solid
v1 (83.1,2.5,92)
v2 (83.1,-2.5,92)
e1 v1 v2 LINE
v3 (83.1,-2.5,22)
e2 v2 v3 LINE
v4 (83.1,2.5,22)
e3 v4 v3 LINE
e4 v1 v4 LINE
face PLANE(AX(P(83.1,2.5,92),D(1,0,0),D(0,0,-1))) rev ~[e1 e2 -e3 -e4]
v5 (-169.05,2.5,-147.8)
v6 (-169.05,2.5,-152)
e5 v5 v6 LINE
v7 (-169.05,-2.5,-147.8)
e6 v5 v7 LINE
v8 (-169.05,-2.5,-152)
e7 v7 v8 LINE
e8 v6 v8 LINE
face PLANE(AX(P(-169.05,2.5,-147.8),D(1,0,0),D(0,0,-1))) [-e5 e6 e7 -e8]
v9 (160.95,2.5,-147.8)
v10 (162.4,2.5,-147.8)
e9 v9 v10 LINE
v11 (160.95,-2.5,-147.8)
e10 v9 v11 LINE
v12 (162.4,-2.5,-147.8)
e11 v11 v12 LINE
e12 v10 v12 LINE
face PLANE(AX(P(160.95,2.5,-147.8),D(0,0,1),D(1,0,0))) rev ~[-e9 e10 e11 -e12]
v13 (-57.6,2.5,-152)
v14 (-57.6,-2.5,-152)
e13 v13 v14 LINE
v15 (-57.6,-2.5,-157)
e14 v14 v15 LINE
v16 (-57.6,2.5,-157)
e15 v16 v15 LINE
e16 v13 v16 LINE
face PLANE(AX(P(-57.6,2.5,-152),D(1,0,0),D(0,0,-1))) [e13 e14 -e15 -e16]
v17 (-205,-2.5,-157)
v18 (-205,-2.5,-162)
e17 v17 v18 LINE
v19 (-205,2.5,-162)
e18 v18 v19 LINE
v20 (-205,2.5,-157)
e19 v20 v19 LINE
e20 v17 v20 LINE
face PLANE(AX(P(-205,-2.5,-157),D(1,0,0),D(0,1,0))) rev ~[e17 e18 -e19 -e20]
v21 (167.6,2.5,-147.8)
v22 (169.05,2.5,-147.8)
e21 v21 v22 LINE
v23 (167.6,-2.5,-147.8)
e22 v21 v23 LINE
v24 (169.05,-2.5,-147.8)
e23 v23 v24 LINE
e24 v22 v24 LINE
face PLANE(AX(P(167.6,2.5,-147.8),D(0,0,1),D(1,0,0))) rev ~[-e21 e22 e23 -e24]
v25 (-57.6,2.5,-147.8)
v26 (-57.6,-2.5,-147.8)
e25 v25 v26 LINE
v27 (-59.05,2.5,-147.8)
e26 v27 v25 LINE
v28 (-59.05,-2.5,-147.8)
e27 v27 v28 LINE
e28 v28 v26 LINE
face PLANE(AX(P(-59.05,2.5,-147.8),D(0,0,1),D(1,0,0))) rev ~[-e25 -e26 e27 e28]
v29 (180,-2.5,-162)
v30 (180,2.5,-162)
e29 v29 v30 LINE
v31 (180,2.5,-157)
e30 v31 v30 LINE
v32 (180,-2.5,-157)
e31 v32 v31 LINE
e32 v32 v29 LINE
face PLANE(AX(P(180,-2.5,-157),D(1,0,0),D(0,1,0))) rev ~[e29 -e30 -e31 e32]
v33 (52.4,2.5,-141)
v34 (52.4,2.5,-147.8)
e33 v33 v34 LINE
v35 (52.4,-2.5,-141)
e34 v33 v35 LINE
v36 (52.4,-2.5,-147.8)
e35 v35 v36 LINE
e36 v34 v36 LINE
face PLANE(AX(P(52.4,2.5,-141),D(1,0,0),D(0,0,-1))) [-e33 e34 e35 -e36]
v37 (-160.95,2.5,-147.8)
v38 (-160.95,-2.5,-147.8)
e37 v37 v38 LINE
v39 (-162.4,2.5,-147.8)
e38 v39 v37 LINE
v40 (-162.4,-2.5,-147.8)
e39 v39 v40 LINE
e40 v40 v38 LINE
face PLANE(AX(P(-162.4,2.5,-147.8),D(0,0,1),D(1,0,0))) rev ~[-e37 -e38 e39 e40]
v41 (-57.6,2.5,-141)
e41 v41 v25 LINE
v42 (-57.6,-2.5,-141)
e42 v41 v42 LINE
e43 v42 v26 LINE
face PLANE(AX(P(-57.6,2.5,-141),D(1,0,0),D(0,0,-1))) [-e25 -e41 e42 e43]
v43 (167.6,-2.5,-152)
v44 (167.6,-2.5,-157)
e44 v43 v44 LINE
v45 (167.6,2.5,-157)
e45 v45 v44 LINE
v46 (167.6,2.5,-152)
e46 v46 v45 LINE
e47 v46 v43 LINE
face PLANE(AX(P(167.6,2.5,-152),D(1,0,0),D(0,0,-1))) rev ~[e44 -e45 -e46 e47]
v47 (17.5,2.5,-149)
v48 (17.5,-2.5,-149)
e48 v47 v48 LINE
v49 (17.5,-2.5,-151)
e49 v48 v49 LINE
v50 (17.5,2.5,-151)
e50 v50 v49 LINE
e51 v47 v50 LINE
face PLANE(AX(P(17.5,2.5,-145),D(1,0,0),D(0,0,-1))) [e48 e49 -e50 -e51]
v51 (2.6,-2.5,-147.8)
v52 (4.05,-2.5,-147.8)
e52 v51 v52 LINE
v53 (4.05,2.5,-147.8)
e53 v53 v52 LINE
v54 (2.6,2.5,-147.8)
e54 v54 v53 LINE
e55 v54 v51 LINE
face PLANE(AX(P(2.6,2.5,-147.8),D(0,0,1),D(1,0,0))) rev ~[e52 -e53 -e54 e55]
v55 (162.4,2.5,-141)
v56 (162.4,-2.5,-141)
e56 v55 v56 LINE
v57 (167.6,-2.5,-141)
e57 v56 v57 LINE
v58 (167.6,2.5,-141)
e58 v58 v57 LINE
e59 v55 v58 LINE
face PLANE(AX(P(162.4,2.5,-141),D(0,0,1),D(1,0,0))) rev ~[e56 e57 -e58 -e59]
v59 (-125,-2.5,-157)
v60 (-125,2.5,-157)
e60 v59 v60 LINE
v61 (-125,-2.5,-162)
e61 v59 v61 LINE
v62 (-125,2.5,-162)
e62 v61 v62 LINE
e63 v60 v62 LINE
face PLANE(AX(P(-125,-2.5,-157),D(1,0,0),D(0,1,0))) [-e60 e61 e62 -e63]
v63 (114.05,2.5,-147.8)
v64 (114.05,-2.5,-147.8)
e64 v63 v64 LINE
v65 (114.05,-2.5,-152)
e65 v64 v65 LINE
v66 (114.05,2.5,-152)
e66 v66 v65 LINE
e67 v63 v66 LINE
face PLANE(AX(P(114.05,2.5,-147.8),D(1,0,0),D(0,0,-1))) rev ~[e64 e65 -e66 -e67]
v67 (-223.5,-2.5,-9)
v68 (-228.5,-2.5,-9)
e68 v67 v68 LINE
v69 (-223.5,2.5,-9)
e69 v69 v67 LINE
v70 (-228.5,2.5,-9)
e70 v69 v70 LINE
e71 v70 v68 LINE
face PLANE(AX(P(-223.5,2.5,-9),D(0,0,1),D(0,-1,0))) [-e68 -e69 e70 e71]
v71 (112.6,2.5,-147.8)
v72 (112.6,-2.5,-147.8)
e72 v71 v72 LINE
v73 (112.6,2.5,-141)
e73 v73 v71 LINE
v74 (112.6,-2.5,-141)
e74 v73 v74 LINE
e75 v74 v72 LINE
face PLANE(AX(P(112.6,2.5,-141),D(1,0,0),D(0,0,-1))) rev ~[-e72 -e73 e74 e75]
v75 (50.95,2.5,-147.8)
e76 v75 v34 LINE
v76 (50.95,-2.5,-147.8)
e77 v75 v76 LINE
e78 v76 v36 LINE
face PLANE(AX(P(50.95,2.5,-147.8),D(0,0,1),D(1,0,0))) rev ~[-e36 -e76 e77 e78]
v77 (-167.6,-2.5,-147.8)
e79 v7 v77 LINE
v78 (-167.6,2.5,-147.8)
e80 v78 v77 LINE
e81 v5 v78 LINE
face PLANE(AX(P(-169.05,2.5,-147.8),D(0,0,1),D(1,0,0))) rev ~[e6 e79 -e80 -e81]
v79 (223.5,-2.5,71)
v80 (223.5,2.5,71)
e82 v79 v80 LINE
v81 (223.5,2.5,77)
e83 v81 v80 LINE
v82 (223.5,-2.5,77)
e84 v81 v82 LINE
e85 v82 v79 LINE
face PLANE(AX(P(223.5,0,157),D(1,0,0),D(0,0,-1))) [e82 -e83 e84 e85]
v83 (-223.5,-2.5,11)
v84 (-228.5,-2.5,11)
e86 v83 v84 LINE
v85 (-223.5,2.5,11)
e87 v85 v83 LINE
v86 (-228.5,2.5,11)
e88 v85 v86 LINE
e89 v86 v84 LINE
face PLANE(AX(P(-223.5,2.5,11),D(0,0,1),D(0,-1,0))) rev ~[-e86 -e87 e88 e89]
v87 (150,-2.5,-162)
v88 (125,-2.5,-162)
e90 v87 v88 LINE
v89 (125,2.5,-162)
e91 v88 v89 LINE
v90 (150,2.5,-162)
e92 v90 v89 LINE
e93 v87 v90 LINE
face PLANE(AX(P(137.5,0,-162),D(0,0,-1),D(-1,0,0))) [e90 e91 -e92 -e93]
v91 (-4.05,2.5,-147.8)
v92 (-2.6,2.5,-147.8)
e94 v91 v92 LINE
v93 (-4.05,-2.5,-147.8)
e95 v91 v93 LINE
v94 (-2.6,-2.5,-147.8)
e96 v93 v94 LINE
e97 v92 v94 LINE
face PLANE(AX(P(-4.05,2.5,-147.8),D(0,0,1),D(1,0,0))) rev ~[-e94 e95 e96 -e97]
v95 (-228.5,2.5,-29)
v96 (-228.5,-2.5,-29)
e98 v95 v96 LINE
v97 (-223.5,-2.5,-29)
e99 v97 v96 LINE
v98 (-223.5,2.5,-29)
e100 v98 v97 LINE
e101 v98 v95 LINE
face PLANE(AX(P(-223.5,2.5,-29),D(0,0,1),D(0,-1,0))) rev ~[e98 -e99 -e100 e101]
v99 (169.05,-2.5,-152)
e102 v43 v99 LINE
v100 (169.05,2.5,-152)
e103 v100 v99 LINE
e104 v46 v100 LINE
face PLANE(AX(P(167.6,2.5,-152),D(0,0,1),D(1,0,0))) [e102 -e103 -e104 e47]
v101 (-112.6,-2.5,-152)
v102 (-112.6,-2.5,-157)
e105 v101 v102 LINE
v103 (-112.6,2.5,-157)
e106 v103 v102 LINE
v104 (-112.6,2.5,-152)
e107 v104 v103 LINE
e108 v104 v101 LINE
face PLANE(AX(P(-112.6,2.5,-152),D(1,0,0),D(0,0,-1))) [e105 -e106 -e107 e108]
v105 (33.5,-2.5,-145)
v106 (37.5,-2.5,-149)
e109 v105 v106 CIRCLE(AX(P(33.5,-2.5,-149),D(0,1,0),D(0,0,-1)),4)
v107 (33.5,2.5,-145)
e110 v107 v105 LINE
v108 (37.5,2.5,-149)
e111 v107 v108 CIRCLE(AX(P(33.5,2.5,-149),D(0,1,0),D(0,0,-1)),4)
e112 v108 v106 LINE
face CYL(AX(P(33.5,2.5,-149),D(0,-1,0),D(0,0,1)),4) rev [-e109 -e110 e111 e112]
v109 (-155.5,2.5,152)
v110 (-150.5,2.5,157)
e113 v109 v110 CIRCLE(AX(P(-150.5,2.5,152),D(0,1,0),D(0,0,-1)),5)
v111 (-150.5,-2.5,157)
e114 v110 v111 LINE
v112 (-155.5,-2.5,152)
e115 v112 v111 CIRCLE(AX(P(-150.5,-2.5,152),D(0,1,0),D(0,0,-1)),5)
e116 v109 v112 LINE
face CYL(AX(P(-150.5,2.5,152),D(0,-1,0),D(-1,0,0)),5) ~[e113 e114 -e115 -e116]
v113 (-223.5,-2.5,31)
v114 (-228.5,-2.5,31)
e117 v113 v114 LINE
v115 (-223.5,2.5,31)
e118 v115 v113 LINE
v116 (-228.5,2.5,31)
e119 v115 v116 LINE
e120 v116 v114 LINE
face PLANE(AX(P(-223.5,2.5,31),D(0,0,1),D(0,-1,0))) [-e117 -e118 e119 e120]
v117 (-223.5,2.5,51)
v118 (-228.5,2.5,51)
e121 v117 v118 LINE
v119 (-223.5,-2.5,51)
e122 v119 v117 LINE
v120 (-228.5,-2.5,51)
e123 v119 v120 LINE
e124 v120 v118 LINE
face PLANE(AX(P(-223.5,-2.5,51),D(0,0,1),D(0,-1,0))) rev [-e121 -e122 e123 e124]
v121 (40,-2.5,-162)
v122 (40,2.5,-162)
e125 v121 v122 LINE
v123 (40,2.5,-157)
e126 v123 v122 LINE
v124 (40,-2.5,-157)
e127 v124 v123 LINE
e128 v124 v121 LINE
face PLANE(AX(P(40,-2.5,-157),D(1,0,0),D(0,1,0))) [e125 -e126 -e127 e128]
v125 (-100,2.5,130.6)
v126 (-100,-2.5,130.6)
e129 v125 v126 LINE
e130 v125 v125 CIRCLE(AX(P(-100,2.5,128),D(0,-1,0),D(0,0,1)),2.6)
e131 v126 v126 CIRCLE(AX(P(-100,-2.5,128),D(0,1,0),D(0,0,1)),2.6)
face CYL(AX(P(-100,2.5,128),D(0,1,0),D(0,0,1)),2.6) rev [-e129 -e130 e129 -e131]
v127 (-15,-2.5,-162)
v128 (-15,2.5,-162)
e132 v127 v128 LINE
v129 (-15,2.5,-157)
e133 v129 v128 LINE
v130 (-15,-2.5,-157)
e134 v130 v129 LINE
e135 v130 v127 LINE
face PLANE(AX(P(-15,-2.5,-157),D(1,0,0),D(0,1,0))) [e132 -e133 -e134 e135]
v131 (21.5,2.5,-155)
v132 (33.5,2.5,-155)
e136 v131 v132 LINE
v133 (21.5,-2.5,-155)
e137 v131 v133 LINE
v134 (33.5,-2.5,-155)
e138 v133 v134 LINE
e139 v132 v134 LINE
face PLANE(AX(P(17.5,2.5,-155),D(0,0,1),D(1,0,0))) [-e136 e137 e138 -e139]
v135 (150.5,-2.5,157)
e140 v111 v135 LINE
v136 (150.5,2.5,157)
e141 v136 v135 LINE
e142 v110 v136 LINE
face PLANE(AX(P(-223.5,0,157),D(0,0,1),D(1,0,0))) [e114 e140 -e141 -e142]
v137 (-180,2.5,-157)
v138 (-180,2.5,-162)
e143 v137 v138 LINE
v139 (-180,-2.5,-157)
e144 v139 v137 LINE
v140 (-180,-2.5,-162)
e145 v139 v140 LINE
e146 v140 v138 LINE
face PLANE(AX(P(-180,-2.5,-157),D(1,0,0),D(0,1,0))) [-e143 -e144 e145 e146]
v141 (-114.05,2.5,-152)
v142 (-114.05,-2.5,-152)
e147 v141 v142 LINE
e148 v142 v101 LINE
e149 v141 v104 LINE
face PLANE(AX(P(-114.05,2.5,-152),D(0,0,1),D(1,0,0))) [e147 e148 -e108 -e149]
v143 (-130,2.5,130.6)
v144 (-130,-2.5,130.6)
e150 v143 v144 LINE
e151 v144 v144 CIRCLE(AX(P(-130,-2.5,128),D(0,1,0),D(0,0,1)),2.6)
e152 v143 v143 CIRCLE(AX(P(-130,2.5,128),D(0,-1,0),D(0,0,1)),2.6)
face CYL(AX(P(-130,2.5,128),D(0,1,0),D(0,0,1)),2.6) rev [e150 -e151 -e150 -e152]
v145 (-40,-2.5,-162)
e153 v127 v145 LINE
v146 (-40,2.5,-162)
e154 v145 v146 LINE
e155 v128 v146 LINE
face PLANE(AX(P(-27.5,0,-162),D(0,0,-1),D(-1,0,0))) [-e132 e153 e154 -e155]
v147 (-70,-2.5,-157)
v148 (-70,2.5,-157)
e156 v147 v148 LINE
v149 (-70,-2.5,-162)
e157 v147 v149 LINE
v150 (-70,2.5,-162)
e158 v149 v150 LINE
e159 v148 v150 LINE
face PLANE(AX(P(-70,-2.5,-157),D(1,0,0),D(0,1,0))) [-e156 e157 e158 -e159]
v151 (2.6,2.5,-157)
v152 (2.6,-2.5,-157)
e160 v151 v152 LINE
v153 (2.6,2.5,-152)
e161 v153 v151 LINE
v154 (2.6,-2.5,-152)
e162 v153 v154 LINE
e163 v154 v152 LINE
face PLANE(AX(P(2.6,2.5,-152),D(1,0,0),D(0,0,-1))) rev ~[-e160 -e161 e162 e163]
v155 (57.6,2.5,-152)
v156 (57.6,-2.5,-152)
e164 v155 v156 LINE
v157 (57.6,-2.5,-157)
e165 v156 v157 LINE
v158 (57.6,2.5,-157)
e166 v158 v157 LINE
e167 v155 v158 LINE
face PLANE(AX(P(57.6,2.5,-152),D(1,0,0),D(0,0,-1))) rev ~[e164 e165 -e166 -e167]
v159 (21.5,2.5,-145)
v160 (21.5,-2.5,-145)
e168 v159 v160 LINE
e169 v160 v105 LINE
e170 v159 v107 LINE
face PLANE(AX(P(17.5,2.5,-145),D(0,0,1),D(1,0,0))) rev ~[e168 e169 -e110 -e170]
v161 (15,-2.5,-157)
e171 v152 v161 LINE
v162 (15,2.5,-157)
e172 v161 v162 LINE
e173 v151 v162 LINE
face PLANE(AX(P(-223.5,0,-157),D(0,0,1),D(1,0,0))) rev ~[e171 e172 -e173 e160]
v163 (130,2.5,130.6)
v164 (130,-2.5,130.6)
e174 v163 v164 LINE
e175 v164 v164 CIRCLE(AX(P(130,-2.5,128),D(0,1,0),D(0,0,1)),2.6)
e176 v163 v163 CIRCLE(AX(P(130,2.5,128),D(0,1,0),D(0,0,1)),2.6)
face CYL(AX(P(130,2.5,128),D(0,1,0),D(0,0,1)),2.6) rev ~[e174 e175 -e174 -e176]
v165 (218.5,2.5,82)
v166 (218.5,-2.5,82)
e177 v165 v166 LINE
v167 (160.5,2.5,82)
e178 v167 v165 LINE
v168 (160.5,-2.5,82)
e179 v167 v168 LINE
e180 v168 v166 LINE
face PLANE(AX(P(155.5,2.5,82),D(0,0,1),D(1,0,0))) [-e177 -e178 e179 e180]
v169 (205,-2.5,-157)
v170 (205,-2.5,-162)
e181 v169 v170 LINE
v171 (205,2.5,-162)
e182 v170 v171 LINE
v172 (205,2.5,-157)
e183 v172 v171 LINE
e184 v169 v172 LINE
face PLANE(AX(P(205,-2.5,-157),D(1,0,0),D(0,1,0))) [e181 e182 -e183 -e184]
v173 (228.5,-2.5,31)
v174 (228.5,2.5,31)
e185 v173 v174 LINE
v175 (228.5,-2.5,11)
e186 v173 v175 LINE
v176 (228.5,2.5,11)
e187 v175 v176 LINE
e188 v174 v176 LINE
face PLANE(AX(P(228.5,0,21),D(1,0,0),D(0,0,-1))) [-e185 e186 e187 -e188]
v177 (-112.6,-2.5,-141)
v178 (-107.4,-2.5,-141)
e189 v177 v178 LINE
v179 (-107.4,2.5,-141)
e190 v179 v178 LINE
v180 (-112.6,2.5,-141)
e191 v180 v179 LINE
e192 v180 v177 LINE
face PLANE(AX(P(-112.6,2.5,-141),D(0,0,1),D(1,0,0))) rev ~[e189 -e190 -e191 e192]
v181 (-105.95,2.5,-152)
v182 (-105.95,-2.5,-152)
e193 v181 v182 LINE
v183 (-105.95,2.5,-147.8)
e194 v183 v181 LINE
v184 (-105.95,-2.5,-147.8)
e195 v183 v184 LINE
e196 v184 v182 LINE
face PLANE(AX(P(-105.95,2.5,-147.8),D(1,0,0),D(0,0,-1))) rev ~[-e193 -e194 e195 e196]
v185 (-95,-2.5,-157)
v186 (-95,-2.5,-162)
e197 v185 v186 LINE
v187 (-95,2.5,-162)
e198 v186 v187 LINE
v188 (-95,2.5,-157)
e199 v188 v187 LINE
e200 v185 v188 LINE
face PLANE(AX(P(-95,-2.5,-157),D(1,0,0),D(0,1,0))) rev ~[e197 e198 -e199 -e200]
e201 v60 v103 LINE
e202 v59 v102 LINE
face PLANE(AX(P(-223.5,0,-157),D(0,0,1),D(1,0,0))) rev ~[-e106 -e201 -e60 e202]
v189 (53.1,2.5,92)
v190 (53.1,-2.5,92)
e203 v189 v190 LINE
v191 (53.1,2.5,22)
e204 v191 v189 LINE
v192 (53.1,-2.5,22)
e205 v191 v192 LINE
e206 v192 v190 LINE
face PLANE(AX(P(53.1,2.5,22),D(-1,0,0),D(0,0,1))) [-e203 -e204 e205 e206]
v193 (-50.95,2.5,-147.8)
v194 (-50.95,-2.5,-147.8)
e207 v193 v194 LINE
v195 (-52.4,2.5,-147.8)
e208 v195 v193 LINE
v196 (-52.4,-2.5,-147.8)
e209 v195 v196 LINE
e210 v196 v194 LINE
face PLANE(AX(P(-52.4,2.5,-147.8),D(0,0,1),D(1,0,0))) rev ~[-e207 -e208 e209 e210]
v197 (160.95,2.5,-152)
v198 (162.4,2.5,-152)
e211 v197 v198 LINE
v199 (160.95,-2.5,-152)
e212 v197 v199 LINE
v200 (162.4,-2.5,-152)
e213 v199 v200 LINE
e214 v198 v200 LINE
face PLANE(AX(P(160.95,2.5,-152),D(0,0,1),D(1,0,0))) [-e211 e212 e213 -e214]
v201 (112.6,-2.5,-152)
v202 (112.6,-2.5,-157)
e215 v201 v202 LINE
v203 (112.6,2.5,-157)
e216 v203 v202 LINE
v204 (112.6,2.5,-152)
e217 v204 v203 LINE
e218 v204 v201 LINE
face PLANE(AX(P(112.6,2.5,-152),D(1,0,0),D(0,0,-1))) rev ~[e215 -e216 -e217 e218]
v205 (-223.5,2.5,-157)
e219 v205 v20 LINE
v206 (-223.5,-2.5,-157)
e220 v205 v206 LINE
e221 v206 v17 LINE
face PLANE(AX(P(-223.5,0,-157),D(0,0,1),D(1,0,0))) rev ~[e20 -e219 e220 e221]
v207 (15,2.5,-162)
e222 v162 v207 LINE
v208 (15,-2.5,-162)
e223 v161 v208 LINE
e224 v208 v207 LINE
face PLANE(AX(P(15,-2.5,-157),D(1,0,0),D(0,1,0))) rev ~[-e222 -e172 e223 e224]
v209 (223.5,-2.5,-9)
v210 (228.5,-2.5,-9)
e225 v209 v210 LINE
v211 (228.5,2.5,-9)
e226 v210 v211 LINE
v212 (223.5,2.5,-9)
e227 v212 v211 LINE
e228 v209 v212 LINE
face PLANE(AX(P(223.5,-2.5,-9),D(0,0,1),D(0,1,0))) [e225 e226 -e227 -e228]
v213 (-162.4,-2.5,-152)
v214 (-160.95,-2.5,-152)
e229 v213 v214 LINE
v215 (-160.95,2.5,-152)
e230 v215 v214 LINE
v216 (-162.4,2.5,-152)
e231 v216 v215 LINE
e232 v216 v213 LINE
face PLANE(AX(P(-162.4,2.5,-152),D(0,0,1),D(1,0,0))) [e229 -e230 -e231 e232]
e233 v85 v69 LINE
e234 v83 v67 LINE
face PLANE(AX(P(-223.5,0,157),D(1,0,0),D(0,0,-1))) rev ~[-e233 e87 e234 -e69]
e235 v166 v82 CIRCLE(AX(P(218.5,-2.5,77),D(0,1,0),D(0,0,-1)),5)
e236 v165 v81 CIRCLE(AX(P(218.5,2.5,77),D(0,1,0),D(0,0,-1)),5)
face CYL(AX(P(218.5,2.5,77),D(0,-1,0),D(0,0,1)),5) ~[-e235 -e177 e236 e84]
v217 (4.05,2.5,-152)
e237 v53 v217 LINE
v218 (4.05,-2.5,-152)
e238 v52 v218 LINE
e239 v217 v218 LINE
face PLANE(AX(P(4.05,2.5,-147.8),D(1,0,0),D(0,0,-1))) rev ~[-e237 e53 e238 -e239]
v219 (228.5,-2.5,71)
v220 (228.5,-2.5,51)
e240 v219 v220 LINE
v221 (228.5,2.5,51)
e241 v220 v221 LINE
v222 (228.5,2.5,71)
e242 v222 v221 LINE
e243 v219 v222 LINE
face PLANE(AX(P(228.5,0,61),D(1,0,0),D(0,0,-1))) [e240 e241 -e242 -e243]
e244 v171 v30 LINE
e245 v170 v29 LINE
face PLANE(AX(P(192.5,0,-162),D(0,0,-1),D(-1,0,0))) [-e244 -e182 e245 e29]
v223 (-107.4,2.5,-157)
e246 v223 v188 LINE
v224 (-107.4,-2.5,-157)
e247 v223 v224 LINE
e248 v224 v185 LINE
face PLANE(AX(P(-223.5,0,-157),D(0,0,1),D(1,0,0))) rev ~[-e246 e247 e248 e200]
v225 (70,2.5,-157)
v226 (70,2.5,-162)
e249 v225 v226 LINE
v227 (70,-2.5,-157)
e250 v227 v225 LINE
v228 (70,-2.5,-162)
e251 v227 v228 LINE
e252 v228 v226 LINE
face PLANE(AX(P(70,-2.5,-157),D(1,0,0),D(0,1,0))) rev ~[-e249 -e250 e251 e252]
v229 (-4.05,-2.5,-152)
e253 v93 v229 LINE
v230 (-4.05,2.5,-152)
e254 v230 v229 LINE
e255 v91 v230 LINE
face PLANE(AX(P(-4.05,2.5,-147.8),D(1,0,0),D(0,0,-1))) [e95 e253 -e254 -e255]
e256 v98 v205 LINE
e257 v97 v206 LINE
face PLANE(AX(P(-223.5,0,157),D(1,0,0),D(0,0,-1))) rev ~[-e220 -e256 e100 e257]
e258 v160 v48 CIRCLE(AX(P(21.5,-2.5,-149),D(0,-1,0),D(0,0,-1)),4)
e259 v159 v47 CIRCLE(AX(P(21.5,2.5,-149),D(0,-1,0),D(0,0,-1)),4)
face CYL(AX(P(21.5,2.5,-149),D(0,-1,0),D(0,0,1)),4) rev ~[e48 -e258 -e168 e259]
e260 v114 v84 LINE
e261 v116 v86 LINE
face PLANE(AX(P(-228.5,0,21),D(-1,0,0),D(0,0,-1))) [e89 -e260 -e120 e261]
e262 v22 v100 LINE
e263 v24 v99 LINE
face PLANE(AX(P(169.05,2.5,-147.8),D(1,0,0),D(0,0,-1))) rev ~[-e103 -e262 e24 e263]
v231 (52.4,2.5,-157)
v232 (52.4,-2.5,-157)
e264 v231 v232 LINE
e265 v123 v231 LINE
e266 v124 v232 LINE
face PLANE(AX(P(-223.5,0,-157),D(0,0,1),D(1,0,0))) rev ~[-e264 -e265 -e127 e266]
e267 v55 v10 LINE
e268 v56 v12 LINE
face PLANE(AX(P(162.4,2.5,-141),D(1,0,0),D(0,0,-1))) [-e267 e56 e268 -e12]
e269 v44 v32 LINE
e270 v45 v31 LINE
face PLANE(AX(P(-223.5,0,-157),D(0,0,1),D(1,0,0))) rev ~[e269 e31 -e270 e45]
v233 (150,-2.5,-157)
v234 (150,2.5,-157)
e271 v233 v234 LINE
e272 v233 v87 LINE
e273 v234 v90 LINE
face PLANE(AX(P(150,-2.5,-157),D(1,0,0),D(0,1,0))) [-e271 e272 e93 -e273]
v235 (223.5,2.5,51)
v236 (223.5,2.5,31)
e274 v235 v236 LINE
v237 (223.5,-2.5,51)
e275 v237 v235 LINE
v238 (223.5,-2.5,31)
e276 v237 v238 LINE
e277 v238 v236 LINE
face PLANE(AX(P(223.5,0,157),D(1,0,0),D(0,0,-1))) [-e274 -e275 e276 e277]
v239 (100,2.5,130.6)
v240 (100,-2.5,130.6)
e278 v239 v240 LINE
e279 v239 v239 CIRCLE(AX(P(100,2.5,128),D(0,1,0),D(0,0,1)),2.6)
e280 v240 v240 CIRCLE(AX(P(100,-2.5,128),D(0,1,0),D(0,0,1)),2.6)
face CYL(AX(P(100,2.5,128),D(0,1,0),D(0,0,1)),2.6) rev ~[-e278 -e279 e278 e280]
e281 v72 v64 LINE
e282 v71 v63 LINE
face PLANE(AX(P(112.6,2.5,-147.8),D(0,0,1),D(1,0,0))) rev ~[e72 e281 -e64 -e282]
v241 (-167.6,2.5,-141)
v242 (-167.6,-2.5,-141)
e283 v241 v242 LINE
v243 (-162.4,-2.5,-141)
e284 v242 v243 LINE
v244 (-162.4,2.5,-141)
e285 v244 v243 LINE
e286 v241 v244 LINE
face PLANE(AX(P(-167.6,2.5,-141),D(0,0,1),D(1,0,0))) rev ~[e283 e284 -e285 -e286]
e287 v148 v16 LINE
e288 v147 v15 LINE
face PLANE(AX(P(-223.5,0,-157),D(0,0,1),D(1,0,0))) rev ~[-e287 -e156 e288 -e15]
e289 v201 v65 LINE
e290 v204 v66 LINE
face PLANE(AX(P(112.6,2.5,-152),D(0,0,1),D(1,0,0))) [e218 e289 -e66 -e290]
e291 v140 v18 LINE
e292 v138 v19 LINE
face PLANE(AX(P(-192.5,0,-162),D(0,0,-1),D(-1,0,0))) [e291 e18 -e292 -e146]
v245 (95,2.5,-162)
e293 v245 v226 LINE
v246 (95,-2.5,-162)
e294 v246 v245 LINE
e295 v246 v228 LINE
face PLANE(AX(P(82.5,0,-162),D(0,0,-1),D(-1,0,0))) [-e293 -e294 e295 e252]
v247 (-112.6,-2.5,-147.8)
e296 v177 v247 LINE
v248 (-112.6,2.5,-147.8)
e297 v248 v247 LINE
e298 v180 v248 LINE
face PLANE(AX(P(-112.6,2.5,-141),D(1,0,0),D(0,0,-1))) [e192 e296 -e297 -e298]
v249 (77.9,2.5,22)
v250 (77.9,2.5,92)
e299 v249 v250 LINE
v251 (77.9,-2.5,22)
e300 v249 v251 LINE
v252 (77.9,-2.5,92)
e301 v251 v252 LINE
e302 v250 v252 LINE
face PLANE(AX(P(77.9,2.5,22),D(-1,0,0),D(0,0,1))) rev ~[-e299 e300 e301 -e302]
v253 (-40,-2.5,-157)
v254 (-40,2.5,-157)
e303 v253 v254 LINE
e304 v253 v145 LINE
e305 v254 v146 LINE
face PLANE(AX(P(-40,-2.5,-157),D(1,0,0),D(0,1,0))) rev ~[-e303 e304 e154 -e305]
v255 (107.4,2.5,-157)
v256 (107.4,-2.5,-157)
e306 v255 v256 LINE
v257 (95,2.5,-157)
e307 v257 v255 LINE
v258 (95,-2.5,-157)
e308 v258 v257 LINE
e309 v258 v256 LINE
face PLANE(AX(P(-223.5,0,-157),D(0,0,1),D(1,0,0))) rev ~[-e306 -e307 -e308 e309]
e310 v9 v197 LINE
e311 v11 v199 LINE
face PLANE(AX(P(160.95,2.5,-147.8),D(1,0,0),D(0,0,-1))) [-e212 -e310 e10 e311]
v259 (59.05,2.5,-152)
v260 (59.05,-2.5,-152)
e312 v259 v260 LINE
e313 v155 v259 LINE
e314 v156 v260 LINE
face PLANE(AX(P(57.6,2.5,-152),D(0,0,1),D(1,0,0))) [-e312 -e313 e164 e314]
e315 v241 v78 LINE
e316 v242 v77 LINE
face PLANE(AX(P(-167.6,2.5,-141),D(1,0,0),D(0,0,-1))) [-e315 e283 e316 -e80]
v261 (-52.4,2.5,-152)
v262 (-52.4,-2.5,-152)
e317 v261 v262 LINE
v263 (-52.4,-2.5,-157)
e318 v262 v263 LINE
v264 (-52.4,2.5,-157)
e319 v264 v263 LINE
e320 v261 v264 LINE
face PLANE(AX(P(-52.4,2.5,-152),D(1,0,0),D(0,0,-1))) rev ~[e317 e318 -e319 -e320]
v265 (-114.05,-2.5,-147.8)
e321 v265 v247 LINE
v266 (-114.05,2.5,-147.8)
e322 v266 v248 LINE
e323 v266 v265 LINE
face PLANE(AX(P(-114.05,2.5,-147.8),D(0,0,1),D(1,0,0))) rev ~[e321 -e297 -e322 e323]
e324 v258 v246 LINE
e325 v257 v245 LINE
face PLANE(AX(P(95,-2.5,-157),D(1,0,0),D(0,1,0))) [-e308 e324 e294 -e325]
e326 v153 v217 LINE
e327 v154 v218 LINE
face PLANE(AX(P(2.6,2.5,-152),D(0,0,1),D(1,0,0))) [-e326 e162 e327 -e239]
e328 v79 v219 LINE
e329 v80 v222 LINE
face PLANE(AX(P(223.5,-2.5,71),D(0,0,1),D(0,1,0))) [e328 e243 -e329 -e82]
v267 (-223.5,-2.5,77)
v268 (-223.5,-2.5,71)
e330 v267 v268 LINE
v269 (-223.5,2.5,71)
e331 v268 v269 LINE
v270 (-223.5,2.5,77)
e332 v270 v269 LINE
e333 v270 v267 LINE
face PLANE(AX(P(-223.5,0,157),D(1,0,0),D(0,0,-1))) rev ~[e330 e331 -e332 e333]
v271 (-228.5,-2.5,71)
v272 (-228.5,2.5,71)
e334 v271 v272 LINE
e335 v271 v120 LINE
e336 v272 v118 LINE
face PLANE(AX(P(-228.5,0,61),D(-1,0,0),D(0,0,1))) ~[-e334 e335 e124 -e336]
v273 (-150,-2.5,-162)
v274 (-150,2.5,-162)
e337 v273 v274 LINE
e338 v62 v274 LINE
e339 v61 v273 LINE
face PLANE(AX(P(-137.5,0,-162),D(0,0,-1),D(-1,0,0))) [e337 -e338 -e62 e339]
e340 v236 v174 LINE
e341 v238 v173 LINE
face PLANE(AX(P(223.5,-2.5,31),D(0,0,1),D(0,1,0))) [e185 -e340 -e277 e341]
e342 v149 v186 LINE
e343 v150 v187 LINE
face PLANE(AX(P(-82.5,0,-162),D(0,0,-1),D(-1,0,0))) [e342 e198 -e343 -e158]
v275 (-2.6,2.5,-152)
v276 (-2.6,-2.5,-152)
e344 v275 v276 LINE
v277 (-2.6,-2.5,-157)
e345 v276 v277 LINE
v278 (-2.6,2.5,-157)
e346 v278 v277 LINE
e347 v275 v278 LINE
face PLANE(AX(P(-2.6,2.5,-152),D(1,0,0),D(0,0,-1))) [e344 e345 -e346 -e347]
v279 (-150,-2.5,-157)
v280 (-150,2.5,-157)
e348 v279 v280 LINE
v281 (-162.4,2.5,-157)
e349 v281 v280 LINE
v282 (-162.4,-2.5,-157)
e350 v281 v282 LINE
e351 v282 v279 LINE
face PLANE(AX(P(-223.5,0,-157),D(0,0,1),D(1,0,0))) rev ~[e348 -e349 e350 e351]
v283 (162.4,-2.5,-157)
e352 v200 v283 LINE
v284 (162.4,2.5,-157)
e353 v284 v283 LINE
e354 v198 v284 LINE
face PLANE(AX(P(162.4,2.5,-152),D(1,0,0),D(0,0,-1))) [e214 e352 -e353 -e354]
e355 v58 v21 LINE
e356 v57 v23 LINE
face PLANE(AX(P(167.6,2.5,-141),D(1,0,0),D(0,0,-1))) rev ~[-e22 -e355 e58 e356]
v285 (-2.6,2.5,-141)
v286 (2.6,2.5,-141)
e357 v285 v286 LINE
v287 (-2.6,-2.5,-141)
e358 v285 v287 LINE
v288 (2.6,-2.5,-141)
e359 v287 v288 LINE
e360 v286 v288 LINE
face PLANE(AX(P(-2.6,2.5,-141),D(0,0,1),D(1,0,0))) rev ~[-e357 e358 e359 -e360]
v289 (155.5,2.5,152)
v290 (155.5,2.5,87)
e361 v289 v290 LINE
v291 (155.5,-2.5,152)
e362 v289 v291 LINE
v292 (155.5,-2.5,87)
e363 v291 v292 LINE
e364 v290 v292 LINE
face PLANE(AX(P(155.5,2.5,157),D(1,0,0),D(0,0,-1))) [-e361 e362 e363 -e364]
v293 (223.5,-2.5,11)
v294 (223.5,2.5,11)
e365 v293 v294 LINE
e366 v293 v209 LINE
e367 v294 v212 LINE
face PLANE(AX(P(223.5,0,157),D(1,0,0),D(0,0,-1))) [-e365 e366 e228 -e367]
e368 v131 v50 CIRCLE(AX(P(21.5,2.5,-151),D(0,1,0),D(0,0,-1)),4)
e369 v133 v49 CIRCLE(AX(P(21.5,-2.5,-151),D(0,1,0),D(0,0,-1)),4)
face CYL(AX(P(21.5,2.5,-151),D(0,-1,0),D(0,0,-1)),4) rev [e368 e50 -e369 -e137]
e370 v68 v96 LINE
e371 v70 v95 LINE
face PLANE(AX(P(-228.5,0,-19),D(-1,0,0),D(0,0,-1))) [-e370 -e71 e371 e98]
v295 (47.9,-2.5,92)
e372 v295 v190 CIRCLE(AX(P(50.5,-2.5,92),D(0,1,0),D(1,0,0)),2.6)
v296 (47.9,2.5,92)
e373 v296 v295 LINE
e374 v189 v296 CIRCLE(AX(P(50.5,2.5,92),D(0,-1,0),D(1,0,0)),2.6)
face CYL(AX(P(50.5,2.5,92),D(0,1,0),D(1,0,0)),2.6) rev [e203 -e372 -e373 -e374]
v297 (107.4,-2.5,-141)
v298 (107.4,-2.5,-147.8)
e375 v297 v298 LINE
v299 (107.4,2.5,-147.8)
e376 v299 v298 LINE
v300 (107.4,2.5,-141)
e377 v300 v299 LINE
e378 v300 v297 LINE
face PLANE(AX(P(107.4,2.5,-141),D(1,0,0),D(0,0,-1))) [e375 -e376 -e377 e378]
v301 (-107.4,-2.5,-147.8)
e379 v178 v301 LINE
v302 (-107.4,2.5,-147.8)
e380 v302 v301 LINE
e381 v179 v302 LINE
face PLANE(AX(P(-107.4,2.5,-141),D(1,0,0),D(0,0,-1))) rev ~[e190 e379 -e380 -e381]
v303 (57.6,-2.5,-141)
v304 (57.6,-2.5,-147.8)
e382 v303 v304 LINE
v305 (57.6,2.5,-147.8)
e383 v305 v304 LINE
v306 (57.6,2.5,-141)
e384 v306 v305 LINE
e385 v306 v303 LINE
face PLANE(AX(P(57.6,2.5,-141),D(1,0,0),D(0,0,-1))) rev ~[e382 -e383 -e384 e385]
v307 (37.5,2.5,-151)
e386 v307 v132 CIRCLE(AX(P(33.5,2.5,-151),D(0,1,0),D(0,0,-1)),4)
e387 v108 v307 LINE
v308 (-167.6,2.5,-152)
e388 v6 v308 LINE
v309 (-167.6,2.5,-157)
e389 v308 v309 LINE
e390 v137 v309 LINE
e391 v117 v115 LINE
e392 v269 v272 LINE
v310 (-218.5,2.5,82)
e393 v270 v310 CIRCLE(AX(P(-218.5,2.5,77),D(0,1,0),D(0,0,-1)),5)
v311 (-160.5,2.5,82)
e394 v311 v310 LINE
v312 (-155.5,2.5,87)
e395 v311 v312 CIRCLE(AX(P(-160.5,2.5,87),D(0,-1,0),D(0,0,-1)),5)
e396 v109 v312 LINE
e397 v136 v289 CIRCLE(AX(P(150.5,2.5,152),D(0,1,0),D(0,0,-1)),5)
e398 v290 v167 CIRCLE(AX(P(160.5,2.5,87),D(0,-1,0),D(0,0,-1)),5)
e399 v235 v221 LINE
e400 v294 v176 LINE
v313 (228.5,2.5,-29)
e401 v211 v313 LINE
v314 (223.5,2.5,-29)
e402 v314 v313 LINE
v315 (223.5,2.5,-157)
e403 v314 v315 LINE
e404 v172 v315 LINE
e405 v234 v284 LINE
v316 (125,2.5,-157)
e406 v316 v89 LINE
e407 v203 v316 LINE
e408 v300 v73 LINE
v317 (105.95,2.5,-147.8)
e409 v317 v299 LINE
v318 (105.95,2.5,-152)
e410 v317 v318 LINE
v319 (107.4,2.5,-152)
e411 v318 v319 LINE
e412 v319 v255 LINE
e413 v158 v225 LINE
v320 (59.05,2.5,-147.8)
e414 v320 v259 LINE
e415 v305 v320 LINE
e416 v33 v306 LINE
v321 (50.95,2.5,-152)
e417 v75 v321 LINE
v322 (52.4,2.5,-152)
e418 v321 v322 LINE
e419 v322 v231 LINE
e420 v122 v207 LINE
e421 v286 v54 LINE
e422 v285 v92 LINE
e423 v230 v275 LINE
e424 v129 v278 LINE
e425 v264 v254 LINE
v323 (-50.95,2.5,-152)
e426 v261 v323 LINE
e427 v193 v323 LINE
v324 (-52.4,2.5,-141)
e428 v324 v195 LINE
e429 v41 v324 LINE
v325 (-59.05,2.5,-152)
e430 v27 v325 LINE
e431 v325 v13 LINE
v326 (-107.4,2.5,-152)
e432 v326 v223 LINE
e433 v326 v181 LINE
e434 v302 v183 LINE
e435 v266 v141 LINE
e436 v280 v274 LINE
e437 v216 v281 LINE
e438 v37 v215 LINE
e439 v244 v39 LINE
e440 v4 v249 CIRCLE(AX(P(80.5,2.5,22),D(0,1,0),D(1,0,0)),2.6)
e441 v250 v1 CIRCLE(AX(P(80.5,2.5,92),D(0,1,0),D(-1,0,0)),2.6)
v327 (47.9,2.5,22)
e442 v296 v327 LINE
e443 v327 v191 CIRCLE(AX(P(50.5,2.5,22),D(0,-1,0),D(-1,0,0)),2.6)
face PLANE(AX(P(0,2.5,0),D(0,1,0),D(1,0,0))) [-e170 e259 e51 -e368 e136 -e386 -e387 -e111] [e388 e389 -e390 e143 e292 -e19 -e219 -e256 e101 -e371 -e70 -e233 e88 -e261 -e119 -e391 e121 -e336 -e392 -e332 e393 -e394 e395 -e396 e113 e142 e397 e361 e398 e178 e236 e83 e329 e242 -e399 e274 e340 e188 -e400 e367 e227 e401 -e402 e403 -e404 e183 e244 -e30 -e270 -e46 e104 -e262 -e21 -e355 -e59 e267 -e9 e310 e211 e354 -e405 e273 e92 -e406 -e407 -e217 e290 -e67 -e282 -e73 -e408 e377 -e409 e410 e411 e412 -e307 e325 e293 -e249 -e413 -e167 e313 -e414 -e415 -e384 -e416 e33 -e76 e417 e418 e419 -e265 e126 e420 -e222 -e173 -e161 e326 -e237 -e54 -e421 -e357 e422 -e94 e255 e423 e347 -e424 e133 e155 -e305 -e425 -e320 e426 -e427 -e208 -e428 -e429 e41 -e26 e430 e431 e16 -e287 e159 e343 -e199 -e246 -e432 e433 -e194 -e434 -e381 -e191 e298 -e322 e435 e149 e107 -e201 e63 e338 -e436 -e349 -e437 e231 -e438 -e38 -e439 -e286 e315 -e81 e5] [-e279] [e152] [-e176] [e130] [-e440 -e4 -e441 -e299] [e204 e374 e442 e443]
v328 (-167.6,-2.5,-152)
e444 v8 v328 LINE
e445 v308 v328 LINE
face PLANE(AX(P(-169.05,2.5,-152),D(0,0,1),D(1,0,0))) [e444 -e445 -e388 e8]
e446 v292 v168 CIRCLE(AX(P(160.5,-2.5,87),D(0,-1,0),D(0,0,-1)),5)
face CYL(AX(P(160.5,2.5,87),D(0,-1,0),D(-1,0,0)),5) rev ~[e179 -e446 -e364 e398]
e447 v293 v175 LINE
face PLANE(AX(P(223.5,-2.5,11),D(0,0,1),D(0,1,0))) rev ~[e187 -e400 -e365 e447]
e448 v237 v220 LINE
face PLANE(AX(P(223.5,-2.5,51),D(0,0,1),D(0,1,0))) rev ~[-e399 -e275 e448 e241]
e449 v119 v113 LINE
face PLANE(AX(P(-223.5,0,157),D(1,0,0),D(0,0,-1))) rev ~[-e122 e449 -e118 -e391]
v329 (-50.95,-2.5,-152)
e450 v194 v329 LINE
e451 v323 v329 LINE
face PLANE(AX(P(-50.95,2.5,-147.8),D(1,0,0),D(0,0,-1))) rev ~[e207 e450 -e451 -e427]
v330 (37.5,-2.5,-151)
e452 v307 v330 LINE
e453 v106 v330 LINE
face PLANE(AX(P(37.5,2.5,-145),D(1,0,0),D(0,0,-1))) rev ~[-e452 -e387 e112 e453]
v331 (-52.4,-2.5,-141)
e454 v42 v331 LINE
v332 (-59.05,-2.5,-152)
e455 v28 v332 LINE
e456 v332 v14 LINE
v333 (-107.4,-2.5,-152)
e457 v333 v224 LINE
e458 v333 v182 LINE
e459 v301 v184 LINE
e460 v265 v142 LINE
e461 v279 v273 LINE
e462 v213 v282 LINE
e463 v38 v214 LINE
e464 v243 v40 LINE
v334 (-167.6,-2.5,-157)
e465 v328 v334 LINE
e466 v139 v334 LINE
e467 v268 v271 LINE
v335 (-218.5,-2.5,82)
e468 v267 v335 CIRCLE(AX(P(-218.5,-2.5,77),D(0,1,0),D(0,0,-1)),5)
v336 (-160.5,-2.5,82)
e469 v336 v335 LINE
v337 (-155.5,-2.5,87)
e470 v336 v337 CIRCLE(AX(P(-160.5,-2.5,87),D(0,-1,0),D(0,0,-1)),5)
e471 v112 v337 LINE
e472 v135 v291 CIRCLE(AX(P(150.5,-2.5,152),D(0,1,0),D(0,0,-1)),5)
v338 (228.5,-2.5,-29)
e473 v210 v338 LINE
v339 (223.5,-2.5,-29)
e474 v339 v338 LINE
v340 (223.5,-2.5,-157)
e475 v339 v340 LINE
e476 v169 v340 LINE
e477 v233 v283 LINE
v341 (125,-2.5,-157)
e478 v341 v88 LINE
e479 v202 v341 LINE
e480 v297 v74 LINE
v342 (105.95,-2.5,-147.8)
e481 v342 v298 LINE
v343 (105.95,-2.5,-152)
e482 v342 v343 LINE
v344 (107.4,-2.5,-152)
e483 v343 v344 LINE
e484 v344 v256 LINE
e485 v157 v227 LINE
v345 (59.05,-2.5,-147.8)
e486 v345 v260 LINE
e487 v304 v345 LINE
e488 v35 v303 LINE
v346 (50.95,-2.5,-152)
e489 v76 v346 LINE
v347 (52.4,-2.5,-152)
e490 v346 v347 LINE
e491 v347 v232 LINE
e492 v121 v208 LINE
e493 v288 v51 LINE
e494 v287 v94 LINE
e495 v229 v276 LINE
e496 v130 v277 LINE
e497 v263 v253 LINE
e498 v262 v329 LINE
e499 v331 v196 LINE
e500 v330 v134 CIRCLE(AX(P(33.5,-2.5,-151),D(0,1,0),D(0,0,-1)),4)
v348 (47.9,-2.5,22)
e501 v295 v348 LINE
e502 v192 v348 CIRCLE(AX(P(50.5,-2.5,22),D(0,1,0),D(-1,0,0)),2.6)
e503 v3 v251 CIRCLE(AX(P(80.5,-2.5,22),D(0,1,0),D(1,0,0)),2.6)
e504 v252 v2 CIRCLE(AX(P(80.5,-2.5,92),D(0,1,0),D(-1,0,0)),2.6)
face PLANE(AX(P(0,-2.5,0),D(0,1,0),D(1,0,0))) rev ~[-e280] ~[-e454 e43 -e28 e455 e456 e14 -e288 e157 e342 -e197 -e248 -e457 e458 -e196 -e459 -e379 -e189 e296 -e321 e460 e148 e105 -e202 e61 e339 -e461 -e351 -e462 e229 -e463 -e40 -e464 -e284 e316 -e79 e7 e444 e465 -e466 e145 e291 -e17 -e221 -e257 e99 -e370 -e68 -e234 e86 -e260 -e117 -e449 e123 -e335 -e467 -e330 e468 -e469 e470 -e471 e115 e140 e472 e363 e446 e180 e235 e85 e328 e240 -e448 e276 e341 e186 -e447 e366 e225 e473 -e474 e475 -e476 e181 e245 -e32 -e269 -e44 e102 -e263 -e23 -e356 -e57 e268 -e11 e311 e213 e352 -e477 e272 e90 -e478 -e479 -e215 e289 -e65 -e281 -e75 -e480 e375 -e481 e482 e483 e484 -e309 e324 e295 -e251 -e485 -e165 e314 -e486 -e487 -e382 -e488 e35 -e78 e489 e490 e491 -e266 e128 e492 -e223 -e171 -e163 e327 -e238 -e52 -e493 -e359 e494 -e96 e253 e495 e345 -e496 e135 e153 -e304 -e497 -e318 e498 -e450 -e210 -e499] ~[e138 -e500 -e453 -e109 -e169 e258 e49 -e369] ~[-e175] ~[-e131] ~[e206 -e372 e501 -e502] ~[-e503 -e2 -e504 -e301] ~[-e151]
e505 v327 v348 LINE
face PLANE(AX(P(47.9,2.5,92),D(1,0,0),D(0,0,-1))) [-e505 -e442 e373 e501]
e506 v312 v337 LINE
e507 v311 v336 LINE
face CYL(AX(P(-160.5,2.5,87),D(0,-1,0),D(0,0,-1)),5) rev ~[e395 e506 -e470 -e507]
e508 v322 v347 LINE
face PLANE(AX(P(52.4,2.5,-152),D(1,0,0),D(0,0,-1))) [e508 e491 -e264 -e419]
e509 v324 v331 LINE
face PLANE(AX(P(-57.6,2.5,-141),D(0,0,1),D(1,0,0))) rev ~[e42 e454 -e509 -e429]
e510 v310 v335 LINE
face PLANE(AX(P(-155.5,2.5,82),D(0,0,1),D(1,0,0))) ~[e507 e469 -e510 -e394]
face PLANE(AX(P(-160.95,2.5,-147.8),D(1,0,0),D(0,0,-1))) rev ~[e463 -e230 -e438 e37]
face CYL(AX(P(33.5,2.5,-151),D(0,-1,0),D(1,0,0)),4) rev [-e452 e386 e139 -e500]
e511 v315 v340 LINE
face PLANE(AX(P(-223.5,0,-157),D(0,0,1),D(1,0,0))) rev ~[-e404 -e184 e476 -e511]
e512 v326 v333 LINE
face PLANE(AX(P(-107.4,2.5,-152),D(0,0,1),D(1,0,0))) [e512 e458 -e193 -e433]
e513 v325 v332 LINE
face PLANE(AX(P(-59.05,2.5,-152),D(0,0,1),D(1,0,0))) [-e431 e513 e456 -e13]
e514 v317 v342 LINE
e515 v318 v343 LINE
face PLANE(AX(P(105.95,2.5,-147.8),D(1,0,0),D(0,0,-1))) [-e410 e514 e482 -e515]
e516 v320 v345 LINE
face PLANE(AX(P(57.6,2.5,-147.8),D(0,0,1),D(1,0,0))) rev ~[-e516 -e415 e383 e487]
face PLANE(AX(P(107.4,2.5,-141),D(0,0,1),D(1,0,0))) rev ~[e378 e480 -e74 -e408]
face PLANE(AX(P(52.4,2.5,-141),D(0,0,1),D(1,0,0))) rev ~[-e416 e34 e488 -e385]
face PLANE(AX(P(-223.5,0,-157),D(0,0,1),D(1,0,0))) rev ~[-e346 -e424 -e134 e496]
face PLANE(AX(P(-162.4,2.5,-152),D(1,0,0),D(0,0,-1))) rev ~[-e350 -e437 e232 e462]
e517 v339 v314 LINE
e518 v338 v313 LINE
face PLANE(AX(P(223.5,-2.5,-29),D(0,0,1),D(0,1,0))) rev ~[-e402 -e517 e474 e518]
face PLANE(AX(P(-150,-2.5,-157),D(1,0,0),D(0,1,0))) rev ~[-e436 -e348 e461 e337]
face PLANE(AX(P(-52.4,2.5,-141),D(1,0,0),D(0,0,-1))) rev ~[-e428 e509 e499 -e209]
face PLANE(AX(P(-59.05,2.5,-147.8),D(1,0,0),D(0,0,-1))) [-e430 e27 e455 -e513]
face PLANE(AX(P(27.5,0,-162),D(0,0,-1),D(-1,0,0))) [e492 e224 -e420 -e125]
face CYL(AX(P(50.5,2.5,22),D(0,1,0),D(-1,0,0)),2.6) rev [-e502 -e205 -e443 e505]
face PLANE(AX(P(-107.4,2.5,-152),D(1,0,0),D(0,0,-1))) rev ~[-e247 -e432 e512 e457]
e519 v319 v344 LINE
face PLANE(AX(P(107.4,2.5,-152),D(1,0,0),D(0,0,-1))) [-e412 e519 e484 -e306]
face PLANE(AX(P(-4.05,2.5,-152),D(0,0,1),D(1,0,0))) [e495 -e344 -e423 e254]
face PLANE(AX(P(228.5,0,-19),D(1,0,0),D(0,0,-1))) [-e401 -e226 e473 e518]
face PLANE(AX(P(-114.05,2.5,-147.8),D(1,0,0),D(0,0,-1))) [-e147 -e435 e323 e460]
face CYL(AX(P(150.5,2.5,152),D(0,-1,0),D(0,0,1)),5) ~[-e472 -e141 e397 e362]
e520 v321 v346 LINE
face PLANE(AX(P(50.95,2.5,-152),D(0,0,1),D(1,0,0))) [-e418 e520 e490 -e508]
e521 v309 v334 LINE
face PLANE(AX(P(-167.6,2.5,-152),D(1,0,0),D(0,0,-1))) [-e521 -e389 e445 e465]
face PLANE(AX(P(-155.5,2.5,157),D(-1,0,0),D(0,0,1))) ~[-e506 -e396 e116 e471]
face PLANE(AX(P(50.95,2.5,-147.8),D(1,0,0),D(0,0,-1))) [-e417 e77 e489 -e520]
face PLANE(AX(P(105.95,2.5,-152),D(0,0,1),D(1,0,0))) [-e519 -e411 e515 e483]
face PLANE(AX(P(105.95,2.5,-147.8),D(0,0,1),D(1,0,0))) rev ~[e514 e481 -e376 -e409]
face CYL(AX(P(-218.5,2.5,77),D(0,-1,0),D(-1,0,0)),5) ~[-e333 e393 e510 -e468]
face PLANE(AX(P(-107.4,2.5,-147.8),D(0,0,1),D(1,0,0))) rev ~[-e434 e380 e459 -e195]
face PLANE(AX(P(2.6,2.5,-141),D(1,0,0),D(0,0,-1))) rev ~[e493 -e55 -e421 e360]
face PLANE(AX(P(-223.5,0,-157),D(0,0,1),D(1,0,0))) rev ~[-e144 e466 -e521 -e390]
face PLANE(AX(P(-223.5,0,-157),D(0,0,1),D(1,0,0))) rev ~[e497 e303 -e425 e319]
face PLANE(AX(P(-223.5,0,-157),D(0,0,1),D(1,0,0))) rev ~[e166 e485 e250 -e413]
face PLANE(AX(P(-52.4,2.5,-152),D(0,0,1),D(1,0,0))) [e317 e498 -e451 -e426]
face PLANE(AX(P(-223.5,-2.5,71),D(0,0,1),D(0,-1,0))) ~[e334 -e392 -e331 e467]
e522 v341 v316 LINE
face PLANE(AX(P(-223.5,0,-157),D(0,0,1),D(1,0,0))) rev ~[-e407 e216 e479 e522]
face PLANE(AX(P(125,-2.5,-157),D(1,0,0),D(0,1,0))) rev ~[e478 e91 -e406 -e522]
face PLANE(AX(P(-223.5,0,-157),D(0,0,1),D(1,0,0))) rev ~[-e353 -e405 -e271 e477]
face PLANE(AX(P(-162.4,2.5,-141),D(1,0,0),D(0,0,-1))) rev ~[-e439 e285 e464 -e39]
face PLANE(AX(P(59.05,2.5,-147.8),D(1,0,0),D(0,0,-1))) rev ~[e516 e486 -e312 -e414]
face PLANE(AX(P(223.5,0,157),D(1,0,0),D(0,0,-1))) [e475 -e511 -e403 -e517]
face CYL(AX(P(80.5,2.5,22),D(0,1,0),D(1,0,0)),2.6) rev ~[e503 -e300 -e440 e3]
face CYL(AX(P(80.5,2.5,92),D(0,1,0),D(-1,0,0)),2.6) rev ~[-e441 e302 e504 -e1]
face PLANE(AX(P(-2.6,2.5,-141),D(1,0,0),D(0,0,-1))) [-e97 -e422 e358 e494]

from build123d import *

# Parameters (mm, degrees)
ESBO_O1_W                 = 447
ESBO_O1_H                 = 314
RESSALTO_EXTRUS_O1_DEPTH  = 2.5
ESBO_O2_W                 = 25
ESBO_O2_H                 = 5
RESSALTO_EXTRUS_O2_DEPTH  = 5
PADR_O_LINEAR1_COUNT      = 8
PADR_O_LINEAR1_PITCH      = 55
ESBO_O3_W                 = 5.2
ESBO_O3_H                 = 5
ESBO_O3_W_2               = 8.1
ESBO_O3_H_2               = 4.2
ESBO_O3_H_3               = 6.8
CORTE_EXTRUS_O1_DEPTH     = 277.081962468
PADR_O_LINEAR2_COUNT      = 7
PADR_O_LINEAR2_PITCH      = 55
ESBO_O7_W                 = 68
ESBO_O7_H                 = 75
CORTE_EXTRUS_O2_DEPTH     = 10
ESBO_O8_R                 = 2.6
CORTE_EXTRUS_O3_DEPTH     = 277.081962468
FILETE1_R                 = 5
ESBO_O9_W                 = 20
ESBO_O9_H                 = 5
RESSALTO_EXTRUS_O3_DEPTH  = 5
PADR_O_LINEAR3_COUNT      = 3
PADR_O_LINEAR3_PITCH      = 40
ESPELHAR3_COPY_1_SKETCH_W = 20
ESPELHAR3_COPY_1_SKETCH_H = 5
ESPELHAR3_COPY_1_DEPTH    = 5
ESPELHAR3_COPY_2_SKETCH_W = 20
ESPELHAR3_COPY_2_SKETCH_H = 5
ESPELHAR3_COPY_2_DEPTH    = 5
CORTE_EXTRUS_O6_DEPTH     = 281.145051714
ESBO_O17_W                = 20
ESBO_O17_H                = 10
CORTE_EXTRUS_O10_DEPTH    = 281.145051714
FILETE2_R                 = 4


with BuildPart() as part:
    # Esboço1 → Ressalto-extrusão1 (new, symmetric)
    with BuildSketch(Plane(origin=(0, 0, 0), x_dir=(1, 0, 0), z_dir=(0, 1, 0))):
        Rectangle(ESBO_O1_W, ESBO_O1_H)
    extrude(amount=RESSALTO_EXTRUS_O1_DEPTH, both=True)

    # Esboço2 → Ressalto-extrusão2 (add)
    with BuildSketch(Plane(origin=(0, 0, -157), x_dir=(-1, 0, 0), z_dir=(0, 0, -1))):
        with Locations((-192.5, 0)):
            Rectangle(ESBO_O2_W, ESBO_O2_H)
    ressalto_extrus_o2 = extrude(amount=RESSALTO_EXTRUS_O2_DEPTH)

    # Padrão linear1: Ressalto-extrusão2 ×8
    with Locations(*[(-i * PADR_O_LINEAR1_PITCH, 0, 0) for i in range(1, PADR_O_LINEAR1_COUNT)]):
        add(ressalto_extrus_o2)

    # Esboço3 → Corte-extrusão1 (cut, through all)
    with BuildSketch(Plane(origin=(0, 2.5, 0), x_dir=(1, 0, 0), z_dir=(0, 1, 0))):
        with Locations((165, 154.5)):
            Rectangle(ESBO_O3_W, ESBO_O3_H)
        with Locations((165, 149.9)):
            Rectangle(ESBO_O3_W_2, ESBO_O3_H_2)
        with Locations((165, 144.4)):
            Rectangle(ESBO_O3_W, ESBO_O3_H_3)
    corte_extrus_o1 = extrude(amount=-CORTE_EXTRUS_O1_DEPTH, mode=Mode.SUBTRACT)

    # Padrão linear2: Corte-extrusão1 ×7
    with Locations(*[(-i * PADR_O_LINEAR2_PITCH, 0, 0) for i in range(1, PADR_O_LINEAR2_COUNT)]):
        add(corte_extrus_o1, mode=Mode.SUBTRACT)

    # Esboço7 → Corte-extrusão2 (cut)
    with BuildSketch(Plane(origin=(0, 2.5, 0), x_dir=(1, 0, 0), z_dir=(0, 1, 0))):
        with Locations((189.5, -119.5)):
            Rectangle(ESBO_O7_W, ESBO_O7_H)
    corte_extrus_o2 = extrude(amount=-CORTE_EXTRUS_O2_DEPTH, mode=Mode.SUBTRACT)

    # Esboço8 → Corte-extrusão3 (cut, through all)
    with BuildSketch(Plane(origin=(0, 2.5, 0), x_dir=(1, 0, 0), z_dir=(0, 1, 0))):
        with Locations(Location((130, -128, 0), (0, 0, 270))):
            Circle(ESBO_O8_R)
        with Locations(Location((100, -128, 0), (0, 0, 270))):
            Circle(ESBO_O8_R)
    corte_extrus_o3 = extrude(amount=-CORTE_EXTRUS_O3_DEPTH, mode=Mode.SUBTRACT)

    # Espelhar2: Corte-extrusão2, Corte-extrusão3 across plane
    add(corte_extrus_o2.mirror(Plane(origin=(0, 0, 0), x_dir=(0, 0, 1), z_dir=(1, 0, 0))), mode=Mode.SUBTRACT)
    add(corte_extrus_o3.mirror(Plane(origin=(0, 0, 0), x_dir=(0, 0, 1), z_dir=(1, 0, 0))), mode=Mode.SUBTRACT)

    # Filete1
    filete1_edges = [part.edges().sort_by_distance(p)[0] for p in [
        (223.5, 0, 82),
        (155.5, 0, 157),
        (155.5, 0, 82),
        (-223.5, 0, 82),
        (-155.5, 0, 82),
        (-155.5, 0, 157),
    ]]
    fillet(filete1_edges, radius=FILETE1_R)

    # Esboço9 → Ressalto-extrusão3 (add)
    with BuildSketch(Plane(origin=(223.5, 0, 0), x_dir=(0, 0, -1), z_dir=(1, 0, 0))):
        with Locations((-61, 0)):
            Rectangle(ESBO_O9_W, ESBO_O9_H)
    ressalto_extrus_o3 = extrude(amount=RESSALTO_EXTRUS_O3_DEPTH)

    # Padrão linear3: Ressalto-extrusão3 ×3
    with Locations(*[(0, 0, -i * PADR_O_LINEAR3_PITCH) for i in range(1, PADR_O_LINEAR3_COUNT)]):
        add(ressalto_extrus_o3)

    # Espelhar3: Ressalto-extrusão3 across plane
    add(ressalto_extrus_o3.mirror(Plane(origin=(0, 0, 0), x_dir=(0, 0, 1), z_dir=(1, 0, 0))))

    # Espelhar3 copy 1 sketch → Espelhar3 copy 1 (add)
    with BuildSketch(Plane(origin=(-223.5, 0, -40), x_dir=(0, 0, -1), z_dir=(-1, 0, 0))):
        with Locations((-61, 0)):
            Rectangle(ESPELHAR3_COPY_1_SKETCH_W, ESPELHAR3_COPY_1_SKETCH_H)
    extrude(amount=ESPELHAR3_COPY_1_DEPTH)

    # Espelhar3 copy 2 sketch → Espelhar3 copy 2 (add)
    with BuildSketch(Plane(origin=(-223.5, 0, -80), x_dir=(0, 0, -1), z_dir=(-1, 0, 0))):
        with Locations((-61, 0)):
            Rectangle(ESPELHAR3_COPY_2_SKETCH_W, ESPELHAR3_COPY_2_SKETCH_H)
    extrude(amount=ESPELHAR3_COPY_2_DEPTH)

    # Esboço12 → Corte-extrusão6 (cut, through all)
    with BuildSketch(Plane(origin=(0, 2.5, 0), x_dir=(1, 0, 0), z_dir=(0, 1, 0))):
        with BuildLine():
            Line((53.1, -22), (53.1, -92))
            ThreePointArc((53.1, -92), (50.5, -94.6), (47.9, -92))
            Line((47.9, -92), (47.9, -22))
            ThreePointArc((47.9, -22), (50.5, -19.4), (53.1, -22))
        make_face()
        with BuildLine():
            Line((77.9, -22), (77.9, -92))
            ThreePointArc((77.9, -92), (80.5, -94.6), (83.1, -92))
            Line((83.1, -92), (83.1, -22))
            ThreePointArc((83.1, -22), (80.5, -19.4), (77.9, -22))
        make_face()
    extrude(amount=-CORTE_EXTRUS_O6_DEPTH, mode=Mode.SUBTRACT)

    # Esboço17 → Corte-extrusão10 (cut, through all)
    with BuildSketch(Plane(origin=(0, 2.5, 0), x_dir=(1, 0, 0), z_dir=(0, 1, 0))):
        with Locations((27.5, 150)):
            Rectangle(ESBO_O17_W, ESBO_O17_H)
    extrude(amount=-CORTE_EXTRUS_O10_DEPTH, mode=Mode.SUBTRACT)

    # Filete2
    filete2_edges = [part.edges().sort_by_distance(p)[0] for p in [
        (37.5, 0, -155),
        (37.5, 0, -145),
        (17.5, 0, -145),
        (17.5, 0, -155),
    ]]
    fillet(filete2_edges, radius=FILETE2_R)


solid = part.part
